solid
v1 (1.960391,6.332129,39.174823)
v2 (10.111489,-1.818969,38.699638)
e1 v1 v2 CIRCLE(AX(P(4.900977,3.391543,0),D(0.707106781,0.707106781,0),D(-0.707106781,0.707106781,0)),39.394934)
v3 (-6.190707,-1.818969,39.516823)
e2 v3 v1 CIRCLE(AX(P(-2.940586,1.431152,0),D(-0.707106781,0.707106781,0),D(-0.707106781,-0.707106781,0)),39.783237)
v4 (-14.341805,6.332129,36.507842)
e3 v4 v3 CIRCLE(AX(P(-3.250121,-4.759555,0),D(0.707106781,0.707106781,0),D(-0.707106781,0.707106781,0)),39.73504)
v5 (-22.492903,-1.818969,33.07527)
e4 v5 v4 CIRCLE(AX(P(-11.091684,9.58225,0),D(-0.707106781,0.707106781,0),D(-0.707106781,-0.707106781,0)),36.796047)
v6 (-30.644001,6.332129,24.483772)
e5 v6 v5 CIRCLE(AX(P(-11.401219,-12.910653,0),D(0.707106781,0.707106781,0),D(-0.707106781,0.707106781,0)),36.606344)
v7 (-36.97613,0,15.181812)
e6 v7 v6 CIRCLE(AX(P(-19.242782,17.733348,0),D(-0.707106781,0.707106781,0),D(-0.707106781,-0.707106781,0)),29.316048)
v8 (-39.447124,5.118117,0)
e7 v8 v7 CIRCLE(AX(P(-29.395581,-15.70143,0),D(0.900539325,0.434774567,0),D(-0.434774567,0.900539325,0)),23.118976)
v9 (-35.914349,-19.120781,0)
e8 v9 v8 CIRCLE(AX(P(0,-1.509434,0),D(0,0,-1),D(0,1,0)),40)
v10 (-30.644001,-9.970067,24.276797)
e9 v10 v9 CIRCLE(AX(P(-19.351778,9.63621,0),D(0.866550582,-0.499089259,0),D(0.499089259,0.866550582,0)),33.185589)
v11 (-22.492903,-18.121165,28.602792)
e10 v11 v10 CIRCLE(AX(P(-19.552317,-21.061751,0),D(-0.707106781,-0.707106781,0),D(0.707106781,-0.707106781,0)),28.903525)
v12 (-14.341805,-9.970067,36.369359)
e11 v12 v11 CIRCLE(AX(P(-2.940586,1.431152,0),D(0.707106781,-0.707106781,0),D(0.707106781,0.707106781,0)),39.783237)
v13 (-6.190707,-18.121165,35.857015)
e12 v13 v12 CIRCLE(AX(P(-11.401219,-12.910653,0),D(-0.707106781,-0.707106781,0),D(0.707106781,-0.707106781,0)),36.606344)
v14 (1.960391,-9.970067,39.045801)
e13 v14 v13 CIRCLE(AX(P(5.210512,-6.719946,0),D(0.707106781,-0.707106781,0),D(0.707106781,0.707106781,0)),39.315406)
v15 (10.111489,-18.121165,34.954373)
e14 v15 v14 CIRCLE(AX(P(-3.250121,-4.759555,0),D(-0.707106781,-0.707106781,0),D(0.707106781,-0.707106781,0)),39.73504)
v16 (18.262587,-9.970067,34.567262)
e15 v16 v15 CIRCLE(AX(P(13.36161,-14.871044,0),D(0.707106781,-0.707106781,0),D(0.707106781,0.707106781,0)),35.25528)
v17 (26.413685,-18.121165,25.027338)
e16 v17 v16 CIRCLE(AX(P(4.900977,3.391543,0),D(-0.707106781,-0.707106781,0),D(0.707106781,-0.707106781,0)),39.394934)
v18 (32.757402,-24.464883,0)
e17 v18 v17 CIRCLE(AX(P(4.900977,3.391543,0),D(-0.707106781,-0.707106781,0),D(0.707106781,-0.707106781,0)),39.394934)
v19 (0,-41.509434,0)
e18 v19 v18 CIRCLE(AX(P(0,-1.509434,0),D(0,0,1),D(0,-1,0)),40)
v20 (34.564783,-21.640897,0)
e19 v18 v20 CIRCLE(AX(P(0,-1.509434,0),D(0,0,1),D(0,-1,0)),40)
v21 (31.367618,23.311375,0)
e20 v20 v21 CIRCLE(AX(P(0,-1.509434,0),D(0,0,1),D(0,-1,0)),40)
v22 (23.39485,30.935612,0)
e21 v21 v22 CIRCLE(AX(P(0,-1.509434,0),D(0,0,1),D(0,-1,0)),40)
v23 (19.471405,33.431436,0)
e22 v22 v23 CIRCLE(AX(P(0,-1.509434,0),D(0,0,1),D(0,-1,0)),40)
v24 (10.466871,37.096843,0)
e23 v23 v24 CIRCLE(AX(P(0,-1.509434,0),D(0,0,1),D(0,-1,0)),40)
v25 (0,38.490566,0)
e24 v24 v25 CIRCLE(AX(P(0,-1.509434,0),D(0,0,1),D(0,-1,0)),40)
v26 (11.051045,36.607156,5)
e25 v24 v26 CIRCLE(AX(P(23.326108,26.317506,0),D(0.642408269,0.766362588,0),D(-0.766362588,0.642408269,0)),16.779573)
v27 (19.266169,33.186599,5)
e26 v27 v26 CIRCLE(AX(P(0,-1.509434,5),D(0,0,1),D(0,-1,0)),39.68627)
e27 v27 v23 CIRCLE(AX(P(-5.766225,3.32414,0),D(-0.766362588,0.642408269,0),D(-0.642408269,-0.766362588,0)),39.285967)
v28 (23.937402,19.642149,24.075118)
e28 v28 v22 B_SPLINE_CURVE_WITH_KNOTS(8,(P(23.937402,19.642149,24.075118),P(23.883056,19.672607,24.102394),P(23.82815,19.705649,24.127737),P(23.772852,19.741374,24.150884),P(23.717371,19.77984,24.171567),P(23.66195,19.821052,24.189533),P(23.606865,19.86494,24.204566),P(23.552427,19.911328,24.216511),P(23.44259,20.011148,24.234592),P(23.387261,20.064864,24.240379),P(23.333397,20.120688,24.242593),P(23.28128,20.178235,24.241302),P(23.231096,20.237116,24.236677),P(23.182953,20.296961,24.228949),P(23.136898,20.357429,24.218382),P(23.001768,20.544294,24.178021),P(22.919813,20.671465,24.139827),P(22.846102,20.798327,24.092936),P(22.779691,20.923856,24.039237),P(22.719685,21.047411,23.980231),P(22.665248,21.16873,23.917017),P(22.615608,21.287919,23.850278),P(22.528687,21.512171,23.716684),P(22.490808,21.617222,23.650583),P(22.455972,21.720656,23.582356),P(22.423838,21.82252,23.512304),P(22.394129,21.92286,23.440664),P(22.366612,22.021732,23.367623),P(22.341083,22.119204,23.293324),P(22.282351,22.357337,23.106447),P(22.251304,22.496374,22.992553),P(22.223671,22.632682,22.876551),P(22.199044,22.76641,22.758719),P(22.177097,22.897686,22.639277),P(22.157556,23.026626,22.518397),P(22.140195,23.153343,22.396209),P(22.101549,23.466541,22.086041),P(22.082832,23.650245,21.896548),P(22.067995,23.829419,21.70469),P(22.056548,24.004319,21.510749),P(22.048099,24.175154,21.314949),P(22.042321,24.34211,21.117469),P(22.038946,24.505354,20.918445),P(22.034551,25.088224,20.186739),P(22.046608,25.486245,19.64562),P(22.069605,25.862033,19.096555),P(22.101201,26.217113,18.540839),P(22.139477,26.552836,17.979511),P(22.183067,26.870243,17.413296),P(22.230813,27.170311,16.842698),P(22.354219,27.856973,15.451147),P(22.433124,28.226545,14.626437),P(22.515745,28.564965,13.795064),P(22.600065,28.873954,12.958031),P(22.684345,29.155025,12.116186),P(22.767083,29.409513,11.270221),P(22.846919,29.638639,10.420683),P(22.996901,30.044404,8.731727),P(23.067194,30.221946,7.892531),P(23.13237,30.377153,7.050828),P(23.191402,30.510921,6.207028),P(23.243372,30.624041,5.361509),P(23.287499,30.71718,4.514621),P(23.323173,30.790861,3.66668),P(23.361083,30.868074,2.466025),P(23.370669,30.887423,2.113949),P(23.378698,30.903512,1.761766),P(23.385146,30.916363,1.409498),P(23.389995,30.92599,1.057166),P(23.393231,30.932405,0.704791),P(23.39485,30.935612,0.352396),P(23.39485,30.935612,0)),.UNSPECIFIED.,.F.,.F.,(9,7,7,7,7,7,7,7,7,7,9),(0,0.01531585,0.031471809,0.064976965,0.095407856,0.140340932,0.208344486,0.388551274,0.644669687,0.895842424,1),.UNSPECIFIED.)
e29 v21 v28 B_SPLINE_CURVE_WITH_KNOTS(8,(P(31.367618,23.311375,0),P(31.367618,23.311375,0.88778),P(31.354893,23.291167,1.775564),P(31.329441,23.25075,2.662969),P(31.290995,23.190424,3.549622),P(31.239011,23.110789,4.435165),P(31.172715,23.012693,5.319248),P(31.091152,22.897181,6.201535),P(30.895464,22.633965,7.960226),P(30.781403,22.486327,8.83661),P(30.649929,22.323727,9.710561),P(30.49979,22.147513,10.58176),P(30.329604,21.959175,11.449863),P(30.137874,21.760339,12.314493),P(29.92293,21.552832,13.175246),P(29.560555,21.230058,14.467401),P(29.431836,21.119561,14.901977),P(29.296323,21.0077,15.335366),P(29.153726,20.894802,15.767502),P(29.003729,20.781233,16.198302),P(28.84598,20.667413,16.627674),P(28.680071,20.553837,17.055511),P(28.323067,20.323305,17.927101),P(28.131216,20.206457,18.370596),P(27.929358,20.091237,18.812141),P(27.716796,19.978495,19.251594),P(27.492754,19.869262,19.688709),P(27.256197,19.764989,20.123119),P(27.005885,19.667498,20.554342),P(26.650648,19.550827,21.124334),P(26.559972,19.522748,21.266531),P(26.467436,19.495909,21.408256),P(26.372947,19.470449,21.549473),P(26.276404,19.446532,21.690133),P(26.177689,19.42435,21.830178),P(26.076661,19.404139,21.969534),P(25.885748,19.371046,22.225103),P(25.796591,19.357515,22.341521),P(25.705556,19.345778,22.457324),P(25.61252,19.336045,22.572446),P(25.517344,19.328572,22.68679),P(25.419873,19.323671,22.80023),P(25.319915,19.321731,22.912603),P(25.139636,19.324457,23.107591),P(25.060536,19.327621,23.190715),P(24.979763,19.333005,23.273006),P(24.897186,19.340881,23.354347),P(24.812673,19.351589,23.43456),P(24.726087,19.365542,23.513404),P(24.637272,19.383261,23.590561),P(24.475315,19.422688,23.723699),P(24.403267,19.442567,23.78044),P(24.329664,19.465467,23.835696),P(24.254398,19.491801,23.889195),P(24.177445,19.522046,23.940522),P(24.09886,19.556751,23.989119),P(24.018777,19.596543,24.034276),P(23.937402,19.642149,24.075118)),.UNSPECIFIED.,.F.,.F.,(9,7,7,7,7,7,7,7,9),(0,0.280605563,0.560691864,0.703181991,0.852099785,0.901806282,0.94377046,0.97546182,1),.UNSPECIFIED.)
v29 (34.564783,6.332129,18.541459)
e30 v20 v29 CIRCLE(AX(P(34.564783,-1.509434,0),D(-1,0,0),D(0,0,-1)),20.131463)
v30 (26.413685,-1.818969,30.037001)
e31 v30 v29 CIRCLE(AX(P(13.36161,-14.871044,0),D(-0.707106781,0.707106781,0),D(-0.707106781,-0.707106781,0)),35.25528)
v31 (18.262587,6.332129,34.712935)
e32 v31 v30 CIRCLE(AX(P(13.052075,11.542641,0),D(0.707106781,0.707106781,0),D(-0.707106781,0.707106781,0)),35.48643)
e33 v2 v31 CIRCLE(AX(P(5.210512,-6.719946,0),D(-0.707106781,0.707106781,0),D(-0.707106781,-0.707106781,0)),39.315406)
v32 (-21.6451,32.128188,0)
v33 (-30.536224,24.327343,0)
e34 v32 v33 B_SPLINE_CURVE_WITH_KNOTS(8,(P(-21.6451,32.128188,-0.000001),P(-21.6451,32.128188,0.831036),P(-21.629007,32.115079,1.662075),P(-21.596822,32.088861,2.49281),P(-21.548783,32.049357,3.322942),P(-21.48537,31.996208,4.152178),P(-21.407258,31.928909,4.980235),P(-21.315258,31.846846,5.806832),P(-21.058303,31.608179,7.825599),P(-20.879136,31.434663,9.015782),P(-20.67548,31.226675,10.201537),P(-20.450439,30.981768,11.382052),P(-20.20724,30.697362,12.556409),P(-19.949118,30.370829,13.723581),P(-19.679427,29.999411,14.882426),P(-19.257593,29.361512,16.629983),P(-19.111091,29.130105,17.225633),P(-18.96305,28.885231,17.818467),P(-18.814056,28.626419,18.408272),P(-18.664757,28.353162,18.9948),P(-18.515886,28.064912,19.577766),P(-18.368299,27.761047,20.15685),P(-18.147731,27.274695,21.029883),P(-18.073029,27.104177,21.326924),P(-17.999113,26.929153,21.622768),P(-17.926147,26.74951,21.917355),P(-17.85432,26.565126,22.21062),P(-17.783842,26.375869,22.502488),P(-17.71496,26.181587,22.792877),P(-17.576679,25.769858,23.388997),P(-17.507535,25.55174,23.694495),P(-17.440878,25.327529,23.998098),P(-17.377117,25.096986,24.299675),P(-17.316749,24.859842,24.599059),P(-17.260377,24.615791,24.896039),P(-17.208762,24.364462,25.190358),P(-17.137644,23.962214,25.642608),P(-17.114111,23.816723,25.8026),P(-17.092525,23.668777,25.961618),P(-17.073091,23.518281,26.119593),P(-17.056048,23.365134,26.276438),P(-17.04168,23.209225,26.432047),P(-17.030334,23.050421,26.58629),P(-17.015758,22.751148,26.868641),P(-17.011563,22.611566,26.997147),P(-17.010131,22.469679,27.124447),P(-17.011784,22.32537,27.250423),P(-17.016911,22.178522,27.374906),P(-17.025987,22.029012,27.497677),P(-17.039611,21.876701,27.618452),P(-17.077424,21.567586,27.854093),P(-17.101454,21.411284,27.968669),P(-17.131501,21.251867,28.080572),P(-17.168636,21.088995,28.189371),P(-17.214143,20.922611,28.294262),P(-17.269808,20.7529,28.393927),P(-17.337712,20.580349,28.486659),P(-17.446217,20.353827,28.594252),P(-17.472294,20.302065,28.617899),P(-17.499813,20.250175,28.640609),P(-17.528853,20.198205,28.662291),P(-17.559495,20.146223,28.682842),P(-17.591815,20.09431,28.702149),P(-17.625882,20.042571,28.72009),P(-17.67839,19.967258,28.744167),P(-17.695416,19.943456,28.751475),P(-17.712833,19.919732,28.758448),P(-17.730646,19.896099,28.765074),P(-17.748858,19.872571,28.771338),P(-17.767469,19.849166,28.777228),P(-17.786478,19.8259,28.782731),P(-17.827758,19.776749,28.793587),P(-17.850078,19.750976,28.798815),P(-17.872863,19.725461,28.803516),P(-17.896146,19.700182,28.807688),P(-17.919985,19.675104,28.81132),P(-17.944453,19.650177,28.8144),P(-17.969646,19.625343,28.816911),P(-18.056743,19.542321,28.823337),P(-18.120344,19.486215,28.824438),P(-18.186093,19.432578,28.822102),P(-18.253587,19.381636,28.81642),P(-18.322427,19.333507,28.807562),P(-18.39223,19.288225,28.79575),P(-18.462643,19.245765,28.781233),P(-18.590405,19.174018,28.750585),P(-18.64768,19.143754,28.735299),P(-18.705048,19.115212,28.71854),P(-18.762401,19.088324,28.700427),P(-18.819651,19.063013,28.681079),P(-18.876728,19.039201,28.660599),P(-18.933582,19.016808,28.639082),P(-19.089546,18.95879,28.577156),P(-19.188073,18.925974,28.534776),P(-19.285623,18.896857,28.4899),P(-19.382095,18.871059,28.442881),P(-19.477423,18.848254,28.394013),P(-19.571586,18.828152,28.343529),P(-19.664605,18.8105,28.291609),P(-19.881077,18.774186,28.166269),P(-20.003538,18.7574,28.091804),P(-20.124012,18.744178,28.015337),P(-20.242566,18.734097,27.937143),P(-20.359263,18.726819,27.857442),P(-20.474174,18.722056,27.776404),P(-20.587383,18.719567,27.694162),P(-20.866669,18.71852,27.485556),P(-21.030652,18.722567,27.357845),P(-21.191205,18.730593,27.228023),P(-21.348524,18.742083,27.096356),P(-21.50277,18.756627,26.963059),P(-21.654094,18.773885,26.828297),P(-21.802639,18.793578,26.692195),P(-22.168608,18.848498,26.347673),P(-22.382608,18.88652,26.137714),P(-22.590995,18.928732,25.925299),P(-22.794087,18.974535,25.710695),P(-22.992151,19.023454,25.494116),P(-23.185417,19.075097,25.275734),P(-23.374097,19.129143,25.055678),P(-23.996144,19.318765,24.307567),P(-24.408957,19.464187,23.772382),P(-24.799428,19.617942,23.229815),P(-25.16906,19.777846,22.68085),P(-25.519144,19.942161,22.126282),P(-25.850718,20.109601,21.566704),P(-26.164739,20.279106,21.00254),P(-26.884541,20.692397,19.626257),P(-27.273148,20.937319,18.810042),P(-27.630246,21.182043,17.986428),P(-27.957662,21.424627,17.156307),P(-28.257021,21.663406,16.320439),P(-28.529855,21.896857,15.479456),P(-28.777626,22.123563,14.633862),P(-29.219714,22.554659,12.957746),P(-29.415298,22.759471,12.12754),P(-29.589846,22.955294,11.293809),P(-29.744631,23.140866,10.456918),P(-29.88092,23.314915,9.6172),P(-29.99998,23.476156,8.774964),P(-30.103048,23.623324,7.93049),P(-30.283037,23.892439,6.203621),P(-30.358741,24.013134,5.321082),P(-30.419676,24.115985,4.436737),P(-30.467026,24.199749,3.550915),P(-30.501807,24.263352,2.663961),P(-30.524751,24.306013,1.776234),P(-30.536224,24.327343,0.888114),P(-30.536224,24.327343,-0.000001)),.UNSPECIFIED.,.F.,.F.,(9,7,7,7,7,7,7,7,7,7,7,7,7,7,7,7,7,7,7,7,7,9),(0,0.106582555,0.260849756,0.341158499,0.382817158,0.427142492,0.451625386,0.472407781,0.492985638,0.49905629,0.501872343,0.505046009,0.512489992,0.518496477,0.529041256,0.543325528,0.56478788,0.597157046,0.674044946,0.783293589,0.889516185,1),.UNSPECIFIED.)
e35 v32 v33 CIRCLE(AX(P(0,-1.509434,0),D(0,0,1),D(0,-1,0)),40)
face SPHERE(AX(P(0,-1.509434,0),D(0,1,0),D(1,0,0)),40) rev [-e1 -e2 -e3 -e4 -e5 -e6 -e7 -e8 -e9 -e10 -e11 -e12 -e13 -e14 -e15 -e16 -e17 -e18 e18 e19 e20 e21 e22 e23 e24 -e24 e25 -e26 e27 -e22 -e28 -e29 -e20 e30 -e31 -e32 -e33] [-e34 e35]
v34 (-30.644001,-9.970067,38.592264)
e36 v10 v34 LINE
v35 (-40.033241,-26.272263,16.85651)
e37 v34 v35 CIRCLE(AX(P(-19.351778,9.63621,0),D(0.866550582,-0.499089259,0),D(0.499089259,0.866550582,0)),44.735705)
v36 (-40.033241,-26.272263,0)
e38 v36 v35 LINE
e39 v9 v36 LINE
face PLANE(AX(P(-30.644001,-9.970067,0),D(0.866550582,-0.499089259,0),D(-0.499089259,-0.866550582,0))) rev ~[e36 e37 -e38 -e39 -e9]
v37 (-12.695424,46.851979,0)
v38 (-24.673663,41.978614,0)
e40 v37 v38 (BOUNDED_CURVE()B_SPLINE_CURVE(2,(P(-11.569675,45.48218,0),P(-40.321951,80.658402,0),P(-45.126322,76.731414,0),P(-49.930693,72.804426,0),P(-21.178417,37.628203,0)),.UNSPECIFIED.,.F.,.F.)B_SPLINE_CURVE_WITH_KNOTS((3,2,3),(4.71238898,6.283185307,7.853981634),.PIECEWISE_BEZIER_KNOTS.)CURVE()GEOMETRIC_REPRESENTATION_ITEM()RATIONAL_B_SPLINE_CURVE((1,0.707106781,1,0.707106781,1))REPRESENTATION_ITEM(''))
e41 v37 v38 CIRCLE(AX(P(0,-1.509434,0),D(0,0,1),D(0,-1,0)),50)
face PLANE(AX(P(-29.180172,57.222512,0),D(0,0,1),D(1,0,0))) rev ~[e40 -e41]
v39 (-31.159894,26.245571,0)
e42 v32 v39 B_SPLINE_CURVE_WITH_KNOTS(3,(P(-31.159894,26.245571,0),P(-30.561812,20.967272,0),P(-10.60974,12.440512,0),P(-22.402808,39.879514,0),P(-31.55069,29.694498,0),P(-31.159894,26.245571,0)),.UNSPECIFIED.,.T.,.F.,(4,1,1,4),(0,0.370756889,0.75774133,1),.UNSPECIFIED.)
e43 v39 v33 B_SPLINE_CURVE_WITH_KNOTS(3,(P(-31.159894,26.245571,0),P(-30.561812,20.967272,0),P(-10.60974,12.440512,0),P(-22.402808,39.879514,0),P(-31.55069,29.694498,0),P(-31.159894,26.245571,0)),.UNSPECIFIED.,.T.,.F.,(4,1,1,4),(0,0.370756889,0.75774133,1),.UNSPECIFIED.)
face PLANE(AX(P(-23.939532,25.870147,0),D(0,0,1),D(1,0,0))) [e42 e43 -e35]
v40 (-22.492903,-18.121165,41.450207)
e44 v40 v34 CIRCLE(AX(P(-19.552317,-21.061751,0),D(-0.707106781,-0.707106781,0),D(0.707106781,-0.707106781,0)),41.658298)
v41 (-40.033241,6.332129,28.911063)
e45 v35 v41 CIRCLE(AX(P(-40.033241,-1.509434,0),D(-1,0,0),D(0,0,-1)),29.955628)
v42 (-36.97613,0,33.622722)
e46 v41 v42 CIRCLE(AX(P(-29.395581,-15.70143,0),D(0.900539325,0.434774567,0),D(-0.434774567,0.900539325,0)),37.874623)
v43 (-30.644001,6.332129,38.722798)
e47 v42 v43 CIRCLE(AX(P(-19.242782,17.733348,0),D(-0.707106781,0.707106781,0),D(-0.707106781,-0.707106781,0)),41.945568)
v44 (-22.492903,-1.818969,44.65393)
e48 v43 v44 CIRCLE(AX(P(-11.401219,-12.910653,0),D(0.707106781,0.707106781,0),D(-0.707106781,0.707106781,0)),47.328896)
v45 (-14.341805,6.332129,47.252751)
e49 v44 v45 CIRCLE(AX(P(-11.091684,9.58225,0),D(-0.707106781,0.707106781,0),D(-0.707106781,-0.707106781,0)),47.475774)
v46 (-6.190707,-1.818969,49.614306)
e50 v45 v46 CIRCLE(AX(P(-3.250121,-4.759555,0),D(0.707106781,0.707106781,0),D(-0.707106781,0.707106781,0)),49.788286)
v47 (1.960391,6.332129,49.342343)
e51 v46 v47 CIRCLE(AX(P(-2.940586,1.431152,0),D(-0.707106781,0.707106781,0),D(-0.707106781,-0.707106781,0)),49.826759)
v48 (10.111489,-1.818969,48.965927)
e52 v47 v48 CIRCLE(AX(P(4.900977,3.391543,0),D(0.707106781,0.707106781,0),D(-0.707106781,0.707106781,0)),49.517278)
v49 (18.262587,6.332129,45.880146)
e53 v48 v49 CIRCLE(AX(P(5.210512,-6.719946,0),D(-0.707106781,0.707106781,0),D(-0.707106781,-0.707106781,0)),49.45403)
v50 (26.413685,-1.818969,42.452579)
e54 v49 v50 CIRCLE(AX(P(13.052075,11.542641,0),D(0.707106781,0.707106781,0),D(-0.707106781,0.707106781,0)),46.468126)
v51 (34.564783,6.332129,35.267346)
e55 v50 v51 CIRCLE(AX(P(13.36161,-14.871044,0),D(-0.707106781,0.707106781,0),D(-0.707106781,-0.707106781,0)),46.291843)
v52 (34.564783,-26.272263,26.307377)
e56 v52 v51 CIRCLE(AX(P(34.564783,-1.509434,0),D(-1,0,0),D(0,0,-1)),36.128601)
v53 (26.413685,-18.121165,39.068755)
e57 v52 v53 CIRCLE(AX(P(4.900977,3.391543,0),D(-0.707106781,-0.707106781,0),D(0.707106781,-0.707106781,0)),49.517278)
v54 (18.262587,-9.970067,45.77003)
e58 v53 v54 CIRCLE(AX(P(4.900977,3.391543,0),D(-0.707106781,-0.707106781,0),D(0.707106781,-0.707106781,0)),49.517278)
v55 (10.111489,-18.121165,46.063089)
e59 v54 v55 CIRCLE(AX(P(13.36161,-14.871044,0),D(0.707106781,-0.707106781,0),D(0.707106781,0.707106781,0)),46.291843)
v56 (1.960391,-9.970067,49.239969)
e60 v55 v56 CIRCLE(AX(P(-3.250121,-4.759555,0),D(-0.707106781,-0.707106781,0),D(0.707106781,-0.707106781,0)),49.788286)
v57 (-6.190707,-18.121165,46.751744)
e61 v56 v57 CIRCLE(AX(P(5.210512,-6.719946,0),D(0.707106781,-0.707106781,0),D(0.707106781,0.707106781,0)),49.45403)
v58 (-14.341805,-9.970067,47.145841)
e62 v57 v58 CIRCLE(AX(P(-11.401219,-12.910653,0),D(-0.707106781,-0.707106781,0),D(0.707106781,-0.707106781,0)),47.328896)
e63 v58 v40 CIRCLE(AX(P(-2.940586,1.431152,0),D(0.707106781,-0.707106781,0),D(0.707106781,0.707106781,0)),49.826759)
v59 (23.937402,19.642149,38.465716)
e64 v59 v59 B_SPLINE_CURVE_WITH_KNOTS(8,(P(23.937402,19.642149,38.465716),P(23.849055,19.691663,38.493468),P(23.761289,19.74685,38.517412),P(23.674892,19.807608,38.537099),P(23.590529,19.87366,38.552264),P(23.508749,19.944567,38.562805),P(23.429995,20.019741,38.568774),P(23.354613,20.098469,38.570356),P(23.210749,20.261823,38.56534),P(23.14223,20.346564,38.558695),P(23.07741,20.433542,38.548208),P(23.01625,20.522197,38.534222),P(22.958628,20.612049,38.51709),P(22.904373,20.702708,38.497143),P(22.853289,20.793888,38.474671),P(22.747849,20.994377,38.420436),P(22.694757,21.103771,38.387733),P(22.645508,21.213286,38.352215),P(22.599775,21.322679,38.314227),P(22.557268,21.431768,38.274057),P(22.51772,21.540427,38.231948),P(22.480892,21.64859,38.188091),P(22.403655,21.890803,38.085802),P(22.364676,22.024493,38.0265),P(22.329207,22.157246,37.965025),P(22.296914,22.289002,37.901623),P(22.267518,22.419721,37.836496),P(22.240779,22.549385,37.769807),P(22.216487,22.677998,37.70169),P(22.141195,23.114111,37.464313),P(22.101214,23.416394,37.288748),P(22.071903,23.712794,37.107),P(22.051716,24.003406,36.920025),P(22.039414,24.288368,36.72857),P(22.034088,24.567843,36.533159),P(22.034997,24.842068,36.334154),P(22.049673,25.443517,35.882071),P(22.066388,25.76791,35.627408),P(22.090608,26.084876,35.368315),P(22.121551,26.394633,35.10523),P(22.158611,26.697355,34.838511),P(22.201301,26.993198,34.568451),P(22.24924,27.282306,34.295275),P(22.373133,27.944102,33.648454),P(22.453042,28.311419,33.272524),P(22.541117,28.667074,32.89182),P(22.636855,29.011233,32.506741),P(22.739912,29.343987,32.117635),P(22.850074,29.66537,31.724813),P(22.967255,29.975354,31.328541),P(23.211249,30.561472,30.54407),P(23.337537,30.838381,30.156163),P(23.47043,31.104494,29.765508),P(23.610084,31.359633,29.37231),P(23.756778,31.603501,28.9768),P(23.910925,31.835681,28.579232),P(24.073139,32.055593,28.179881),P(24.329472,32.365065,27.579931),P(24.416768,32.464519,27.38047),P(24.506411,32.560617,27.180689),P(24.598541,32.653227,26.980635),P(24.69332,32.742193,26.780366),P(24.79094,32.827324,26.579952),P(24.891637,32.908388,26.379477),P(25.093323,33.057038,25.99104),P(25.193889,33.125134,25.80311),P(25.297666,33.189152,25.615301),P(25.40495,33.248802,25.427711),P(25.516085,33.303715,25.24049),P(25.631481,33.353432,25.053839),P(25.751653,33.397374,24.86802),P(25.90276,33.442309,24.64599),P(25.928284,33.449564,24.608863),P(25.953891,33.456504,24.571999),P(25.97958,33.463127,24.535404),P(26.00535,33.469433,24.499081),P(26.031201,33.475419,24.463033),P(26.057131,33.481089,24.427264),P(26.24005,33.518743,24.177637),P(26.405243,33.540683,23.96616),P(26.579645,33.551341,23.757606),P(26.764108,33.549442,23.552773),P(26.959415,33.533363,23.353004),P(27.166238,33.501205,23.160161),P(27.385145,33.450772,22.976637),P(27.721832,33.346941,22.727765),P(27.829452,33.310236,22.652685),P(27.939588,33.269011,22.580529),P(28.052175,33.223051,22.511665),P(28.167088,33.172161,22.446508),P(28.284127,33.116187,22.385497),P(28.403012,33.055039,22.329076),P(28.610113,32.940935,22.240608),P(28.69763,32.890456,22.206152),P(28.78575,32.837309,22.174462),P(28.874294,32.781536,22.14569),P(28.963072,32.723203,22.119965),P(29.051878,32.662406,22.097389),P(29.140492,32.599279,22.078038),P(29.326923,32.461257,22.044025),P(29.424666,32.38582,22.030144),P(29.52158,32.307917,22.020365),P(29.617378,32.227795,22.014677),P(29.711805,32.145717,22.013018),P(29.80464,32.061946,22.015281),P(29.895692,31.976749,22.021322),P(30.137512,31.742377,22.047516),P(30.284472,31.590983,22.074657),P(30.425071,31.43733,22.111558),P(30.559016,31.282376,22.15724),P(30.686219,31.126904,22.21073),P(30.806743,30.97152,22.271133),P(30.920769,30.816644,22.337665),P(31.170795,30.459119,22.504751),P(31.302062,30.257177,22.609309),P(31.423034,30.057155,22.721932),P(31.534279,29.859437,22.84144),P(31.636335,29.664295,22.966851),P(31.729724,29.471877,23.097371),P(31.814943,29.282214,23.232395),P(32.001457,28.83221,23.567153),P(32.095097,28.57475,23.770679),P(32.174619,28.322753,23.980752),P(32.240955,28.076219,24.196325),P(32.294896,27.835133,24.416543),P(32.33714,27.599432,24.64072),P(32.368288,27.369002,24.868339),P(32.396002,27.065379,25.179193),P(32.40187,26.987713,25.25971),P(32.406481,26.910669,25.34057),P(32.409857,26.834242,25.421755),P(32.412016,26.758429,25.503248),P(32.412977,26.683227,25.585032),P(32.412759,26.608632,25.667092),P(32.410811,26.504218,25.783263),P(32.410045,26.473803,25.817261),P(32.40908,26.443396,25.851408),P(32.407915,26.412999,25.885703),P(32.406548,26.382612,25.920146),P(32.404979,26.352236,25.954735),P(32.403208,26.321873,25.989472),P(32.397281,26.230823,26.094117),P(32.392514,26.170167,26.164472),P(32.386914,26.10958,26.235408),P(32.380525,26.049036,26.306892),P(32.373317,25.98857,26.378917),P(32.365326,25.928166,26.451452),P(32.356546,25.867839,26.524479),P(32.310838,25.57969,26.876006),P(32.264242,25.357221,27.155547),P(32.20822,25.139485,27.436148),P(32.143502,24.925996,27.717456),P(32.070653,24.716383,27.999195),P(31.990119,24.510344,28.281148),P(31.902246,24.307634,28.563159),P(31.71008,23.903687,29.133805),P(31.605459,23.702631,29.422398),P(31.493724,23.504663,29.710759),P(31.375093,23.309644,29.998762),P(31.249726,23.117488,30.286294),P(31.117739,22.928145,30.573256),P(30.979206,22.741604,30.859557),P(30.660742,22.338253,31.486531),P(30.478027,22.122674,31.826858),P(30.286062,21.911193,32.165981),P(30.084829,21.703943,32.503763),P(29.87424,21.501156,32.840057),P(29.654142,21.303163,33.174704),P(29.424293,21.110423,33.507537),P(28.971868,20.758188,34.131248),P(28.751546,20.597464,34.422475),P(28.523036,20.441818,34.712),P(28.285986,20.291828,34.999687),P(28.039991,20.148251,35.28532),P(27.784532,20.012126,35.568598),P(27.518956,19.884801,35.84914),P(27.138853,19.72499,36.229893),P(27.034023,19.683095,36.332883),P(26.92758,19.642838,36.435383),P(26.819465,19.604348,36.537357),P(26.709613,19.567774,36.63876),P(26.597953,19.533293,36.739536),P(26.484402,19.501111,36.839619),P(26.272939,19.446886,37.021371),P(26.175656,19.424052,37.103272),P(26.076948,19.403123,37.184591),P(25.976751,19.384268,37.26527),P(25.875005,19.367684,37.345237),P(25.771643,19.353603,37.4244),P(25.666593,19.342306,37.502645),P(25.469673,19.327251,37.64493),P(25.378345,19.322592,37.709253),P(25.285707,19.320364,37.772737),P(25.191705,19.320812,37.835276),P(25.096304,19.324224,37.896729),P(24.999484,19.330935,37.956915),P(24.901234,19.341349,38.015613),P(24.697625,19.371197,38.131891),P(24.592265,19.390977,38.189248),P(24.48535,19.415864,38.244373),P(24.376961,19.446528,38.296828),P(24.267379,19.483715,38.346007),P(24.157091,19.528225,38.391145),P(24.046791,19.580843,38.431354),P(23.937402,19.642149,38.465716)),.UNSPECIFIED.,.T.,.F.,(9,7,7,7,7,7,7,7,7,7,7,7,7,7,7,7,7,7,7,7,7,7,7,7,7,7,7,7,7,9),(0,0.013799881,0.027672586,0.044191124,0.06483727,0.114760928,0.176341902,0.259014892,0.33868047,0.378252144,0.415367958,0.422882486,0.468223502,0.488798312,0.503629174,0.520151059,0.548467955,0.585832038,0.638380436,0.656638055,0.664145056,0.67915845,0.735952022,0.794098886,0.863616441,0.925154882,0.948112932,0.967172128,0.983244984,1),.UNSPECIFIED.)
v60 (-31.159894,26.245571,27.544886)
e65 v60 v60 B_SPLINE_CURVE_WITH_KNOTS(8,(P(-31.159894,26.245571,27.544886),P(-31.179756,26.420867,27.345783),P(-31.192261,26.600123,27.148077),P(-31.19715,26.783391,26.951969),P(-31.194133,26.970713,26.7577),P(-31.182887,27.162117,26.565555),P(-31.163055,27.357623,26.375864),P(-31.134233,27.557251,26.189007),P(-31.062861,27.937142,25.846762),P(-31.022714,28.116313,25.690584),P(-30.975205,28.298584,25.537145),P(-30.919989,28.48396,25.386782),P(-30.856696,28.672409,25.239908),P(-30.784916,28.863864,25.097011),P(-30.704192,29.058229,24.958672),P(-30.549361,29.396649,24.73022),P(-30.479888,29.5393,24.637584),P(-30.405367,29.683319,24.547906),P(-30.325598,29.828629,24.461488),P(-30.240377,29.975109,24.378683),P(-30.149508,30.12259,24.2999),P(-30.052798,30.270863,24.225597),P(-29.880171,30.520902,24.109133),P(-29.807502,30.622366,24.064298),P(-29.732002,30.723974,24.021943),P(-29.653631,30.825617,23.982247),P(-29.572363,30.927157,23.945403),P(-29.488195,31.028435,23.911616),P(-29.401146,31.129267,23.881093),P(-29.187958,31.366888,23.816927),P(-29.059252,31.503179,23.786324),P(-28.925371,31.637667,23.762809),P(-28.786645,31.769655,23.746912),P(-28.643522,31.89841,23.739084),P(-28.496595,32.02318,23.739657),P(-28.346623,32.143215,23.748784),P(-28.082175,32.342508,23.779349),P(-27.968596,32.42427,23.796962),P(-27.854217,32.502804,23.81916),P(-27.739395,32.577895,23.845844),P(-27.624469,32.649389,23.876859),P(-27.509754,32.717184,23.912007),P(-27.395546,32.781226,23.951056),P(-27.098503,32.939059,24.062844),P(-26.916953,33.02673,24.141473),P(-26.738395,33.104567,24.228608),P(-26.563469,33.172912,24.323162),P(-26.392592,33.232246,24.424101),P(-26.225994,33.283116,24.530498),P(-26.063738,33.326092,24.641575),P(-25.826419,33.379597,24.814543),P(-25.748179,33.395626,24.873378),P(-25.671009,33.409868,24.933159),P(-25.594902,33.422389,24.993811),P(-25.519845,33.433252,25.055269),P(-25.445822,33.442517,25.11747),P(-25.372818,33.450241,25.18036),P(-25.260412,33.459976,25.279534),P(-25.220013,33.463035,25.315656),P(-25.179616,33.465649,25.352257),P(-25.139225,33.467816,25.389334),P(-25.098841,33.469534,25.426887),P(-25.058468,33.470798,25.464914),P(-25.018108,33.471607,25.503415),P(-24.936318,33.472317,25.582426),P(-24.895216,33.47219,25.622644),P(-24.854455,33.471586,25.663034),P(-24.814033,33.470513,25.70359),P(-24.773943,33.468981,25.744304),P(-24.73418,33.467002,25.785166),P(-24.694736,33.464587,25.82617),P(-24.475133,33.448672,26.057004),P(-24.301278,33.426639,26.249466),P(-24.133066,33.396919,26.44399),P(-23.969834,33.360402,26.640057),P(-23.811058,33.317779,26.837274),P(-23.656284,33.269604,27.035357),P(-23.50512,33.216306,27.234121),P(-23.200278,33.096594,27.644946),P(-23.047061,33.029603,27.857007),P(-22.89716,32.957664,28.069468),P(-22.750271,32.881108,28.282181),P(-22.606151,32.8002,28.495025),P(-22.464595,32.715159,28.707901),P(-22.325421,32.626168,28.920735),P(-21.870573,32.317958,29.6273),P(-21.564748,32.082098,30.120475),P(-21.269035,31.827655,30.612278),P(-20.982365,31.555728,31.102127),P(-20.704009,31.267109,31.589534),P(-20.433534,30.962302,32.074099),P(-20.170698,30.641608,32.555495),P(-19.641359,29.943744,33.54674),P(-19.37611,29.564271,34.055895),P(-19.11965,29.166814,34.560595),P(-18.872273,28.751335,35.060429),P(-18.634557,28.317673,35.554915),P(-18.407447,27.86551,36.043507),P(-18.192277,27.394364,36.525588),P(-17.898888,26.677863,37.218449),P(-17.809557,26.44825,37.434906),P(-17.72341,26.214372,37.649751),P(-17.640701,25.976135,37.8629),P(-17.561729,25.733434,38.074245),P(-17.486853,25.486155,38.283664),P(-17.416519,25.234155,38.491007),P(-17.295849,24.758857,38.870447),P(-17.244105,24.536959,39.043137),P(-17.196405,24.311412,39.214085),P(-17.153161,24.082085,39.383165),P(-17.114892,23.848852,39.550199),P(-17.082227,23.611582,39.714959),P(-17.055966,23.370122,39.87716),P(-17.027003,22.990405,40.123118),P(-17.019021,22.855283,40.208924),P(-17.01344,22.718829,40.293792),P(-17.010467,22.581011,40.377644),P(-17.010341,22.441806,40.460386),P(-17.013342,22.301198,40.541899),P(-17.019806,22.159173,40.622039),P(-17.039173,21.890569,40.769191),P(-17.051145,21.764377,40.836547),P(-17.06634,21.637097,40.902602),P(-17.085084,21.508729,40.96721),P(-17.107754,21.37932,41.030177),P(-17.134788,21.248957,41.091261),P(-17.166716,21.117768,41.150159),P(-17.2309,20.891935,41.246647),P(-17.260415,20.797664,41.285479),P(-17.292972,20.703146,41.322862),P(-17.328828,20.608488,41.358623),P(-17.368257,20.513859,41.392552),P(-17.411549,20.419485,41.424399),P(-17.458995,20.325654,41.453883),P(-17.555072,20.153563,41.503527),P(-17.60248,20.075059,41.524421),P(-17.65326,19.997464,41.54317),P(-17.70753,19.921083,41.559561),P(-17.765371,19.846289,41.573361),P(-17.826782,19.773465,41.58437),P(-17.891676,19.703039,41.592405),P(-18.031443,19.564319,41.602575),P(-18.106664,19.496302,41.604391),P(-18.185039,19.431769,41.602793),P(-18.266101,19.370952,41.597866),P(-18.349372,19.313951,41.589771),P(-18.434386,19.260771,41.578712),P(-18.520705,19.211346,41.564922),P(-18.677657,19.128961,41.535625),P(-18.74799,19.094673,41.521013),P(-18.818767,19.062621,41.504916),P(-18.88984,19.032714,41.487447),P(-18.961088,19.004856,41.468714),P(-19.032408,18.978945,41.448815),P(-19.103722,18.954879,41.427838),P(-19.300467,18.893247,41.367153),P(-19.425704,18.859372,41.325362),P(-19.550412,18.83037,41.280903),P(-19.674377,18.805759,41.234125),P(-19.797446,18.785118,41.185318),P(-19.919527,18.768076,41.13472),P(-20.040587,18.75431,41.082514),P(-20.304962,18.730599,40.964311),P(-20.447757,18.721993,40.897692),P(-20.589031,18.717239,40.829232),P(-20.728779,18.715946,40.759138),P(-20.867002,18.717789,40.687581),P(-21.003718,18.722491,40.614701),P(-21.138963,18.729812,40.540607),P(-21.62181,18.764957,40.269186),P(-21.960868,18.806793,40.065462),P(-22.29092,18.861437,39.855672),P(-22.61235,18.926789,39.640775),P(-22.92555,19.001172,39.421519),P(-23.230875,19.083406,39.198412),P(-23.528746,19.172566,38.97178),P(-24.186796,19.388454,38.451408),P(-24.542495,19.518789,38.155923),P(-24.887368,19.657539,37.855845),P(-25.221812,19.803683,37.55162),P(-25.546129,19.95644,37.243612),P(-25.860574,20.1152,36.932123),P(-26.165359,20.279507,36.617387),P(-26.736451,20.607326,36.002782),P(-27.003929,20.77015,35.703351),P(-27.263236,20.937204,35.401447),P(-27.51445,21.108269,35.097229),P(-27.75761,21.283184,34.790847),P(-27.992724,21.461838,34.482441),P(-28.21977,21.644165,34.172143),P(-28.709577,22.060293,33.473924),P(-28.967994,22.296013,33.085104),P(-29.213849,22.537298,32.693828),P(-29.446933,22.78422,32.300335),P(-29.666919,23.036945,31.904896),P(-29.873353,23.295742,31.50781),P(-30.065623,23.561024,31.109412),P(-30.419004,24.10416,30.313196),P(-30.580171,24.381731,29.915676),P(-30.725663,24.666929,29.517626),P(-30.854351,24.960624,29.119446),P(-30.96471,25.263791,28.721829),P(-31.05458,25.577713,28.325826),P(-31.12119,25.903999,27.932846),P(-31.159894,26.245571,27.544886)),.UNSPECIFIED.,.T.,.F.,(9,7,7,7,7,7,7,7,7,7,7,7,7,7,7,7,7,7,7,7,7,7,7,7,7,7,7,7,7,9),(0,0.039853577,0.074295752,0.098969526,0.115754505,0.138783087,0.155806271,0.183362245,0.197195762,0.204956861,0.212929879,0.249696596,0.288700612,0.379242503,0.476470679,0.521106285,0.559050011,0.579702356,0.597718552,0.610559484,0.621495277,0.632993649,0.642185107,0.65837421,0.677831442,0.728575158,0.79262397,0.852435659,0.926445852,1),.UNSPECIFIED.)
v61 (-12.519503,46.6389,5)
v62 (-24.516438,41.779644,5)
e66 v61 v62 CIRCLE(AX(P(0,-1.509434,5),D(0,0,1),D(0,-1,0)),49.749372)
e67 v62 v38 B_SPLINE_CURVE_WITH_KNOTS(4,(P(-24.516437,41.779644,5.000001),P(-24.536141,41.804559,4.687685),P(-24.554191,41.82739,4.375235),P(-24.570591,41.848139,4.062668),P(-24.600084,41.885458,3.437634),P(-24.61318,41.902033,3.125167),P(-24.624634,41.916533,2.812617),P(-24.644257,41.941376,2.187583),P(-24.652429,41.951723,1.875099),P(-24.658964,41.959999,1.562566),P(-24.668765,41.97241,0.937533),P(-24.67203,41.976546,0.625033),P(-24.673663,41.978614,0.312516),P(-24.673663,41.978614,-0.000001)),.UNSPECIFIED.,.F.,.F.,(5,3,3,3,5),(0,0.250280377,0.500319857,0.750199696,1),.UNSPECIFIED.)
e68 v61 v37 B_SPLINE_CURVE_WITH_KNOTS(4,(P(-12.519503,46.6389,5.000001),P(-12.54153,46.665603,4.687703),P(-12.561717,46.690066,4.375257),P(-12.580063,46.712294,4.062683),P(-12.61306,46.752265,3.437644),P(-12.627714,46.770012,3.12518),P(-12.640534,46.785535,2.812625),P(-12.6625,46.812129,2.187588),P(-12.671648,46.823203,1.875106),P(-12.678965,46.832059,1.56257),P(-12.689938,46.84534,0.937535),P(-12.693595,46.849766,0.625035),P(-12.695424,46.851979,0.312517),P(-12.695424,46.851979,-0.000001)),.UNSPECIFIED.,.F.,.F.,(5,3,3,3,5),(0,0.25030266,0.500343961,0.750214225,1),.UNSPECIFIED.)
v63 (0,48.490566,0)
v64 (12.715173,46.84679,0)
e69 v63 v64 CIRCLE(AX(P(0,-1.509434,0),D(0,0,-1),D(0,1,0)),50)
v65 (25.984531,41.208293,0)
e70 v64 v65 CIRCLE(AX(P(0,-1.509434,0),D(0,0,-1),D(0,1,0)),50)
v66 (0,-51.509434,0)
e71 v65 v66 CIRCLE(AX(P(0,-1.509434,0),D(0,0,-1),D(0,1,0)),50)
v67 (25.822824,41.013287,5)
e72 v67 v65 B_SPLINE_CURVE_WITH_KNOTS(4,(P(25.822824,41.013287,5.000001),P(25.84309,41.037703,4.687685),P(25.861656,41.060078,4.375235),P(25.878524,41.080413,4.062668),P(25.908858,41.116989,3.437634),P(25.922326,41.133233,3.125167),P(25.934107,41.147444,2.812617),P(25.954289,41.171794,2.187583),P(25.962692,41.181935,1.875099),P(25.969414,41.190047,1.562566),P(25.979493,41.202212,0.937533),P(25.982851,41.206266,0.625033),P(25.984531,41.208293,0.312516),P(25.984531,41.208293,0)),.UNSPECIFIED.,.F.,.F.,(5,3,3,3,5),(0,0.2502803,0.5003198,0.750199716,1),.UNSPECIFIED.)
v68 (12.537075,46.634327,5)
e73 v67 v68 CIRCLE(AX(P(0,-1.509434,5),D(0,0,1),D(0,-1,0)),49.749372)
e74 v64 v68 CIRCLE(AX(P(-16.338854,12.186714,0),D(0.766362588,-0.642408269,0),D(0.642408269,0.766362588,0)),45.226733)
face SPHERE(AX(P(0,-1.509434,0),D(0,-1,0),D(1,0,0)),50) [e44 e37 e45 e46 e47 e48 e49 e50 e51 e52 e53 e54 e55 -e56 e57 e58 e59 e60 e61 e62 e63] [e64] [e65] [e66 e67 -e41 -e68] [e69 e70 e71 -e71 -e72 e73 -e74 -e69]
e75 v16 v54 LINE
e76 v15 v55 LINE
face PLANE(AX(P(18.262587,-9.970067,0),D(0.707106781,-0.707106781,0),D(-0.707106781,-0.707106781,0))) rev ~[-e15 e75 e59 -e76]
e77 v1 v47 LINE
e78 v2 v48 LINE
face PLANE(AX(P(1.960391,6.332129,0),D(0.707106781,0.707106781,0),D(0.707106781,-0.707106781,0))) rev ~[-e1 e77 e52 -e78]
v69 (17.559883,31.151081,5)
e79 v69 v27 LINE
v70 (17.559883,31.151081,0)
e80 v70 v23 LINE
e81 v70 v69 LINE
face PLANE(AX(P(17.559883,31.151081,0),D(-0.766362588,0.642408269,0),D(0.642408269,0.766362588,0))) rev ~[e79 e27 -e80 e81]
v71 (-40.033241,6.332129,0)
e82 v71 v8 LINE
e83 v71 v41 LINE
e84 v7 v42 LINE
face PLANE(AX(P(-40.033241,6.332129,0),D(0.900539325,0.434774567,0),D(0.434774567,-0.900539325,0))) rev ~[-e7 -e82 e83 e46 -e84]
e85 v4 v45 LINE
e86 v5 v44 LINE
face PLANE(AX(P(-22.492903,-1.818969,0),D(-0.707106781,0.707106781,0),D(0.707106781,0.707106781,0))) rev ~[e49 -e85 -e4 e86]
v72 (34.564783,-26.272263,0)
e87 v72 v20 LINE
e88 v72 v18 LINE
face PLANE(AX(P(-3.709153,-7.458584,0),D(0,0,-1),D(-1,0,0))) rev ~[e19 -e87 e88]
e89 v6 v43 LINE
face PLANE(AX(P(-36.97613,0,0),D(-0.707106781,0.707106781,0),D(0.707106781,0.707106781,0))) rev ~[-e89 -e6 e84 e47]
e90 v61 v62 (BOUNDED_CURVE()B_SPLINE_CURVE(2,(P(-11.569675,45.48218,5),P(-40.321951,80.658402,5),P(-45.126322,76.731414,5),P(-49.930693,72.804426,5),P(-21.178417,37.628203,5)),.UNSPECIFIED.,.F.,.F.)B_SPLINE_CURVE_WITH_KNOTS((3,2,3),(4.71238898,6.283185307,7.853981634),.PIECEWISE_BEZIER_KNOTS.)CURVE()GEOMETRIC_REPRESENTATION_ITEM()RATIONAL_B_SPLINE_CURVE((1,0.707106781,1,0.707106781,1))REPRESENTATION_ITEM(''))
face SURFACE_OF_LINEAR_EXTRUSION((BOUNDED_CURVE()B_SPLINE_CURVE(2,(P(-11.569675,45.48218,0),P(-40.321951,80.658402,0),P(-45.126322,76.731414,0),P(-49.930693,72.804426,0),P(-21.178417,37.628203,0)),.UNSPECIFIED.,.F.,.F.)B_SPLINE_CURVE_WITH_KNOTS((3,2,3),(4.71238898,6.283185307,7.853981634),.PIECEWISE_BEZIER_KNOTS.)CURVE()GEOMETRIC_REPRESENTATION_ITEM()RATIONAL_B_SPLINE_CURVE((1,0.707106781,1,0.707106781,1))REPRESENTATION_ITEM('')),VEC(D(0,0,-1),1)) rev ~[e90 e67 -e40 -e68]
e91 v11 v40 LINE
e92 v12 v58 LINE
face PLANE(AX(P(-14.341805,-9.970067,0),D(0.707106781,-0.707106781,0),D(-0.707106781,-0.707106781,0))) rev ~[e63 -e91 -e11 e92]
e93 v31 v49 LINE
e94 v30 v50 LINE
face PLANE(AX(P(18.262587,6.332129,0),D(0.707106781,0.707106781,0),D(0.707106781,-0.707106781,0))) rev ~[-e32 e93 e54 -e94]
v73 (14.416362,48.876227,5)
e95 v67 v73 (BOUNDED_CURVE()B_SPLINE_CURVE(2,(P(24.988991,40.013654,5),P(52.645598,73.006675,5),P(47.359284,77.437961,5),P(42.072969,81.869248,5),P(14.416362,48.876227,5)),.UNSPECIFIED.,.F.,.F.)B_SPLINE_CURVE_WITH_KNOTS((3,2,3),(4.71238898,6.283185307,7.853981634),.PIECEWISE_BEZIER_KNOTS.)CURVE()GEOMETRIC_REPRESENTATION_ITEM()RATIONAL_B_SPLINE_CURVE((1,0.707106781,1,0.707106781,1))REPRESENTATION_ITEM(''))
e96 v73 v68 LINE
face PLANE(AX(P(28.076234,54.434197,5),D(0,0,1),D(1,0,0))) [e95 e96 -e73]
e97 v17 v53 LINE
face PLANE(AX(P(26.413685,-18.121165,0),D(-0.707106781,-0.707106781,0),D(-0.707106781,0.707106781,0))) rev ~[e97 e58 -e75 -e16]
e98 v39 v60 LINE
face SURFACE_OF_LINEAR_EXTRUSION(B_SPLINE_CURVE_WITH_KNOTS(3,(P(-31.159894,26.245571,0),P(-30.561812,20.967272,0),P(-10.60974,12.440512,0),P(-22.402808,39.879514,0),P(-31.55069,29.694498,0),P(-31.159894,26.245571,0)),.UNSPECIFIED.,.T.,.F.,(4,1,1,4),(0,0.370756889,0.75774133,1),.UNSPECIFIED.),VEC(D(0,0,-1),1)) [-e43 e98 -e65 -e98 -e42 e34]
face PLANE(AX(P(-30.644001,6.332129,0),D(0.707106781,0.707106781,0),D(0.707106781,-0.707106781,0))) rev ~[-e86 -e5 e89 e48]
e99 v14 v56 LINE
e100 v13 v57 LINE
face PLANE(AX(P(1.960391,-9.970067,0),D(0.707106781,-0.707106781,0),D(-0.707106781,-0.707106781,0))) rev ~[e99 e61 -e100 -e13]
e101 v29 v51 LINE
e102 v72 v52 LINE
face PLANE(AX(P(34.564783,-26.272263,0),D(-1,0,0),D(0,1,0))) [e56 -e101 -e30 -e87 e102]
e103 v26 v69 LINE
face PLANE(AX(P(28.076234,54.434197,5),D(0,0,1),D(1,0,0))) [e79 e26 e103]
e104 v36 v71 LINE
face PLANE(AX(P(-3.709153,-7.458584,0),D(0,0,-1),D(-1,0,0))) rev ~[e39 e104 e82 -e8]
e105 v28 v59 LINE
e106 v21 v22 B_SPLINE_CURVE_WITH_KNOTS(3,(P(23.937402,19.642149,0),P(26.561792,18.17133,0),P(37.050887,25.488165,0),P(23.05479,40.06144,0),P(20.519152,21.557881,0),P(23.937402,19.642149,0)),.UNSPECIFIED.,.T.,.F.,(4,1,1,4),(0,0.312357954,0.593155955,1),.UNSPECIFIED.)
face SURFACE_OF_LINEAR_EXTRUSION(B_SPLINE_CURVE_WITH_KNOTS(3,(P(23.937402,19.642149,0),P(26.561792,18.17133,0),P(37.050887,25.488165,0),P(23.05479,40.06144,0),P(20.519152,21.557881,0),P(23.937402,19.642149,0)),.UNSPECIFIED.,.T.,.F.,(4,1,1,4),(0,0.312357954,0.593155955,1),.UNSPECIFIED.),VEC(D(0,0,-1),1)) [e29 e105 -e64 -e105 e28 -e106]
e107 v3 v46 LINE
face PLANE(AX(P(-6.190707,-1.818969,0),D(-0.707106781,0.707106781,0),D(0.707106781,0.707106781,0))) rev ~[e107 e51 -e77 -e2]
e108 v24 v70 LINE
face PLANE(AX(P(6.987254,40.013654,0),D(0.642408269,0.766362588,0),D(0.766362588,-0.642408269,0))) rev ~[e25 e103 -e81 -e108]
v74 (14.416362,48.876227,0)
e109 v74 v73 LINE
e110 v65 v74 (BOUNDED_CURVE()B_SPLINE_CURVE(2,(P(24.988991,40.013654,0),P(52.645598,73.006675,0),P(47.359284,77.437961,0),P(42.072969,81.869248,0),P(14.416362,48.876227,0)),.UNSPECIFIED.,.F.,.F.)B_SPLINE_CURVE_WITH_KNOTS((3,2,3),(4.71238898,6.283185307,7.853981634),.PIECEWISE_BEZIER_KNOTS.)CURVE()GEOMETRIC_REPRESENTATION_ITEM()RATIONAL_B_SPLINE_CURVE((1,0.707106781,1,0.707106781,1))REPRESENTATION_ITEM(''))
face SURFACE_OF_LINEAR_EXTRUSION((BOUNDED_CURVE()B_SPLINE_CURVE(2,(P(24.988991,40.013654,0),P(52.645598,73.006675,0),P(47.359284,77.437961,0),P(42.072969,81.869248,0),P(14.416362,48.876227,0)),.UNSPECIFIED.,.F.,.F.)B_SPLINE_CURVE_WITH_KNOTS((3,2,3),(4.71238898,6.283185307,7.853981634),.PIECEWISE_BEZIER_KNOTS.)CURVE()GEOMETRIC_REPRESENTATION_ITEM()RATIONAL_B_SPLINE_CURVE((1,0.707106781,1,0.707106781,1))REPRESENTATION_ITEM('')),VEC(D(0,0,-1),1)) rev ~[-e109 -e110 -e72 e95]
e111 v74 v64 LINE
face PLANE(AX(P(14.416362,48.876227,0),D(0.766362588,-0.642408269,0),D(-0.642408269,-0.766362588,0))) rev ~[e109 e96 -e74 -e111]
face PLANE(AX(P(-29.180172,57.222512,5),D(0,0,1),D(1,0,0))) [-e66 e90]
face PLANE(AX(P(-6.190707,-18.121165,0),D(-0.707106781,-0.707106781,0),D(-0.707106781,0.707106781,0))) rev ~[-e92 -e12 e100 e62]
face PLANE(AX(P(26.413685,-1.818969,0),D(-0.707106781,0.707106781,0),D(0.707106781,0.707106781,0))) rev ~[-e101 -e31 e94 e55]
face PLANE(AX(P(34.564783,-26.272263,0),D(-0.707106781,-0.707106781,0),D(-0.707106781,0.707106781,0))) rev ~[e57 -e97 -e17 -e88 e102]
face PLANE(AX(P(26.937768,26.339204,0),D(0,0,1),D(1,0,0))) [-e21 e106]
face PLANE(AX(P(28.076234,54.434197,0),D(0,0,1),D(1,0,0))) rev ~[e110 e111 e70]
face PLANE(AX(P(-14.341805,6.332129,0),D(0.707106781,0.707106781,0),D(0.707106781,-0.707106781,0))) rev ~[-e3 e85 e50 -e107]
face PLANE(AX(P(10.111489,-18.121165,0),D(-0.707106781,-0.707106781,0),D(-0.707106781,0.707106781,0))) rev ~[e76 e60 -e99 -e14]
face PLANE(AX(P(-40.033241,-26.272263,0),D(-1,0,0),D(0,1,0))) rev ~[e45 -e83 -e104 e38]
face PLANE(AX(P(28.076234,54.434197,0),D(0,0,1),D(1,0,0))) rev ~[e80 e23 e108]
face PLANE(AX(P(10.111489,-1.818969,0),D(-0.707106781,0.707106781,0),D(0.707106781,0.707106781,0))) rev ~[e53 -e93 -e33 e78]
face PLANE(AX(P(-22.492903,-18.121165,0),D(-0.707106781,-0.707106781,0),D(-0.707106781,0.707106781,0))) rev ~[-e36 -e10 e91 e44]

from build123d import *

# Parameters (mm, degrees)
CUT_EXTRUDE1_DEPTH  = 50
CUT_EXTRUDE2_DEPTH  = 50
BOSS_EXTRUDE1_DEPTH = 5
BOSS_EXTRUDE2_DEPTH = 5


with BuildPart() as part:
    # Sketch4 → Revolve-Thin1 (revolve)
    with BuildSketch(Plane.XY):
        with BuildLine():
            ThreePointArc((0, 48.490566038), (50, -1.509433962), (0, -51.509433962))
            Line((0, -51.509433962), (0, -41.509433962))
            ThreePointArc((0, -41.509433962), (40, -1.509433962), (0, 38.490566038))
            Line((0, 38.490566038), (0, 48.490566038))
        make_face()
    revolve(axis=Axis((0, 48.490566038, 0), (0, -1, 0)))

    # Sketch5 → Cut-Extrude1 (cut)
    with BuildSketch(Plane.XY):
        Polygon((-30.644001245, -9.970067303), (-40.033240684, -26.272263251), (-40.033240684, 6.332128646), (-36.976129891, 0), (-30.644001245, 6.332128646), (-22.492903271, -1.818969328), (-14.341805297, 6.332128646), (-6.190707322, -1.818969328), (1.960390652, 6.332128646), (10.111488626, -1.818969328), (18.262586601, 6.332128646), (26.413684575, -1.818969328), (34.56478255, 6.332128646), (34.56478255, -9.970067303), (34.56478255, -26.272263251), (26.413684575, -18.121165277), (18.262586601, -9.970067303), (10.111488626, -18.121165277), (1.960390652, -9.970067303), (-6.190707322, -18.121165277), (-14.341805297, -9.970067303), (-22.492903271, -18.121165277), align=None)
    extrude(amount=CUT_EXTRUDE1_DEPTH, mode=Mode.SUBTRACT)

    # Sketch6 → Cut-Extrude2 (cut)
    with BuildSketch(Plane.XY):
        with BuildLine():
            add(Edge.make_bspline(
                [(-31.159893522, 26.245570533), (-30.561812418, 20.967271985), (-10.609739532, 12.440512153), (-22.402808053, 39.879513697), (-31.550689585, 29.694497906), (-31.159893522, 26.245570533)],
                knots=[0, 0, 0, 0, 0.370756889, 0.75774133, 1, 1, 1, 1], degree=3))
        make_face()
        with BuildLine():
            add(Edge.make_bspline(
                [(23.937401646, 19.642149389), (26.561792049, 18.17132991), (37.050887315, 25.488164902), (23.054790304, 40.061439696), (20.519151547, 21.557881447), (23.937401646, 19.642149389)],
                knots=[0, 0, 0, 0, 0.312357954, 0.593155955, 1, 1, 1, 1], degree=3))
        make_face()
    extrude(amount=CUT_EXTRUDE2_DEPTH, mode=Mode.SUBTRACT)

    # Sketch8 → Boss-Extrude1 (add)
    with BuildSketch(Plane.XY):
        with BuildLine():
            Line((-21.178417491, 37.628203487), (-11.569674779, 45.482179937))
            add(Edge.make_bspline(
                [(-11.569674779, 45.482179937), (-40.321950535, 80.658402053), (-45.12632189, 76.731413828), (-49.930693246, 72.804425603), (-21.178417491, 37.628203487)],
                knots=[4.71238898, 4.71238898, 4.71238898, 6.283185307, 6.283185307, 7.853981634, 7.853981634, 7.853981634], degree=2, weights=[1, 0.707106781, 1, 0.707106781, 1]))
        make_face()
    extrude(amount=BOSS_EXTRUDE1_DEPTH)

    # Sketch9 → Boss-Extrude2 (add)
    with BuildSketch(Plane.XY):
        with BuildLine():
            Line((14.416361682, 48.876227224), (6.987253857, 40.013654036))
            Line((6.987253857, 40.013654036), (17.559883218, 31.151080848))
            Line((17.559883218, 31.151080848), (24.988991043, 40.013654036))
            add(Edge.make_bspline(
                [(24.988991043, 40.013654036), (52.645598361, 73.0066745), (47.35928368, 77.437961094), (42.072969, 81.869247688), (14.416361682, 48.876227224)],
                knots=[4.71238898, 4.71238898, 4.71238898, 6.283185307, 6.283185307, 7.853981634, 7.853981634, 7.853981634], degree=2, weights=[1, 0.707106781, 1, 0.707106781, 1]))
        make_face()
    extrude(amount=BOSS_EXTRUDE2_DEPTH)


solid = part.part
